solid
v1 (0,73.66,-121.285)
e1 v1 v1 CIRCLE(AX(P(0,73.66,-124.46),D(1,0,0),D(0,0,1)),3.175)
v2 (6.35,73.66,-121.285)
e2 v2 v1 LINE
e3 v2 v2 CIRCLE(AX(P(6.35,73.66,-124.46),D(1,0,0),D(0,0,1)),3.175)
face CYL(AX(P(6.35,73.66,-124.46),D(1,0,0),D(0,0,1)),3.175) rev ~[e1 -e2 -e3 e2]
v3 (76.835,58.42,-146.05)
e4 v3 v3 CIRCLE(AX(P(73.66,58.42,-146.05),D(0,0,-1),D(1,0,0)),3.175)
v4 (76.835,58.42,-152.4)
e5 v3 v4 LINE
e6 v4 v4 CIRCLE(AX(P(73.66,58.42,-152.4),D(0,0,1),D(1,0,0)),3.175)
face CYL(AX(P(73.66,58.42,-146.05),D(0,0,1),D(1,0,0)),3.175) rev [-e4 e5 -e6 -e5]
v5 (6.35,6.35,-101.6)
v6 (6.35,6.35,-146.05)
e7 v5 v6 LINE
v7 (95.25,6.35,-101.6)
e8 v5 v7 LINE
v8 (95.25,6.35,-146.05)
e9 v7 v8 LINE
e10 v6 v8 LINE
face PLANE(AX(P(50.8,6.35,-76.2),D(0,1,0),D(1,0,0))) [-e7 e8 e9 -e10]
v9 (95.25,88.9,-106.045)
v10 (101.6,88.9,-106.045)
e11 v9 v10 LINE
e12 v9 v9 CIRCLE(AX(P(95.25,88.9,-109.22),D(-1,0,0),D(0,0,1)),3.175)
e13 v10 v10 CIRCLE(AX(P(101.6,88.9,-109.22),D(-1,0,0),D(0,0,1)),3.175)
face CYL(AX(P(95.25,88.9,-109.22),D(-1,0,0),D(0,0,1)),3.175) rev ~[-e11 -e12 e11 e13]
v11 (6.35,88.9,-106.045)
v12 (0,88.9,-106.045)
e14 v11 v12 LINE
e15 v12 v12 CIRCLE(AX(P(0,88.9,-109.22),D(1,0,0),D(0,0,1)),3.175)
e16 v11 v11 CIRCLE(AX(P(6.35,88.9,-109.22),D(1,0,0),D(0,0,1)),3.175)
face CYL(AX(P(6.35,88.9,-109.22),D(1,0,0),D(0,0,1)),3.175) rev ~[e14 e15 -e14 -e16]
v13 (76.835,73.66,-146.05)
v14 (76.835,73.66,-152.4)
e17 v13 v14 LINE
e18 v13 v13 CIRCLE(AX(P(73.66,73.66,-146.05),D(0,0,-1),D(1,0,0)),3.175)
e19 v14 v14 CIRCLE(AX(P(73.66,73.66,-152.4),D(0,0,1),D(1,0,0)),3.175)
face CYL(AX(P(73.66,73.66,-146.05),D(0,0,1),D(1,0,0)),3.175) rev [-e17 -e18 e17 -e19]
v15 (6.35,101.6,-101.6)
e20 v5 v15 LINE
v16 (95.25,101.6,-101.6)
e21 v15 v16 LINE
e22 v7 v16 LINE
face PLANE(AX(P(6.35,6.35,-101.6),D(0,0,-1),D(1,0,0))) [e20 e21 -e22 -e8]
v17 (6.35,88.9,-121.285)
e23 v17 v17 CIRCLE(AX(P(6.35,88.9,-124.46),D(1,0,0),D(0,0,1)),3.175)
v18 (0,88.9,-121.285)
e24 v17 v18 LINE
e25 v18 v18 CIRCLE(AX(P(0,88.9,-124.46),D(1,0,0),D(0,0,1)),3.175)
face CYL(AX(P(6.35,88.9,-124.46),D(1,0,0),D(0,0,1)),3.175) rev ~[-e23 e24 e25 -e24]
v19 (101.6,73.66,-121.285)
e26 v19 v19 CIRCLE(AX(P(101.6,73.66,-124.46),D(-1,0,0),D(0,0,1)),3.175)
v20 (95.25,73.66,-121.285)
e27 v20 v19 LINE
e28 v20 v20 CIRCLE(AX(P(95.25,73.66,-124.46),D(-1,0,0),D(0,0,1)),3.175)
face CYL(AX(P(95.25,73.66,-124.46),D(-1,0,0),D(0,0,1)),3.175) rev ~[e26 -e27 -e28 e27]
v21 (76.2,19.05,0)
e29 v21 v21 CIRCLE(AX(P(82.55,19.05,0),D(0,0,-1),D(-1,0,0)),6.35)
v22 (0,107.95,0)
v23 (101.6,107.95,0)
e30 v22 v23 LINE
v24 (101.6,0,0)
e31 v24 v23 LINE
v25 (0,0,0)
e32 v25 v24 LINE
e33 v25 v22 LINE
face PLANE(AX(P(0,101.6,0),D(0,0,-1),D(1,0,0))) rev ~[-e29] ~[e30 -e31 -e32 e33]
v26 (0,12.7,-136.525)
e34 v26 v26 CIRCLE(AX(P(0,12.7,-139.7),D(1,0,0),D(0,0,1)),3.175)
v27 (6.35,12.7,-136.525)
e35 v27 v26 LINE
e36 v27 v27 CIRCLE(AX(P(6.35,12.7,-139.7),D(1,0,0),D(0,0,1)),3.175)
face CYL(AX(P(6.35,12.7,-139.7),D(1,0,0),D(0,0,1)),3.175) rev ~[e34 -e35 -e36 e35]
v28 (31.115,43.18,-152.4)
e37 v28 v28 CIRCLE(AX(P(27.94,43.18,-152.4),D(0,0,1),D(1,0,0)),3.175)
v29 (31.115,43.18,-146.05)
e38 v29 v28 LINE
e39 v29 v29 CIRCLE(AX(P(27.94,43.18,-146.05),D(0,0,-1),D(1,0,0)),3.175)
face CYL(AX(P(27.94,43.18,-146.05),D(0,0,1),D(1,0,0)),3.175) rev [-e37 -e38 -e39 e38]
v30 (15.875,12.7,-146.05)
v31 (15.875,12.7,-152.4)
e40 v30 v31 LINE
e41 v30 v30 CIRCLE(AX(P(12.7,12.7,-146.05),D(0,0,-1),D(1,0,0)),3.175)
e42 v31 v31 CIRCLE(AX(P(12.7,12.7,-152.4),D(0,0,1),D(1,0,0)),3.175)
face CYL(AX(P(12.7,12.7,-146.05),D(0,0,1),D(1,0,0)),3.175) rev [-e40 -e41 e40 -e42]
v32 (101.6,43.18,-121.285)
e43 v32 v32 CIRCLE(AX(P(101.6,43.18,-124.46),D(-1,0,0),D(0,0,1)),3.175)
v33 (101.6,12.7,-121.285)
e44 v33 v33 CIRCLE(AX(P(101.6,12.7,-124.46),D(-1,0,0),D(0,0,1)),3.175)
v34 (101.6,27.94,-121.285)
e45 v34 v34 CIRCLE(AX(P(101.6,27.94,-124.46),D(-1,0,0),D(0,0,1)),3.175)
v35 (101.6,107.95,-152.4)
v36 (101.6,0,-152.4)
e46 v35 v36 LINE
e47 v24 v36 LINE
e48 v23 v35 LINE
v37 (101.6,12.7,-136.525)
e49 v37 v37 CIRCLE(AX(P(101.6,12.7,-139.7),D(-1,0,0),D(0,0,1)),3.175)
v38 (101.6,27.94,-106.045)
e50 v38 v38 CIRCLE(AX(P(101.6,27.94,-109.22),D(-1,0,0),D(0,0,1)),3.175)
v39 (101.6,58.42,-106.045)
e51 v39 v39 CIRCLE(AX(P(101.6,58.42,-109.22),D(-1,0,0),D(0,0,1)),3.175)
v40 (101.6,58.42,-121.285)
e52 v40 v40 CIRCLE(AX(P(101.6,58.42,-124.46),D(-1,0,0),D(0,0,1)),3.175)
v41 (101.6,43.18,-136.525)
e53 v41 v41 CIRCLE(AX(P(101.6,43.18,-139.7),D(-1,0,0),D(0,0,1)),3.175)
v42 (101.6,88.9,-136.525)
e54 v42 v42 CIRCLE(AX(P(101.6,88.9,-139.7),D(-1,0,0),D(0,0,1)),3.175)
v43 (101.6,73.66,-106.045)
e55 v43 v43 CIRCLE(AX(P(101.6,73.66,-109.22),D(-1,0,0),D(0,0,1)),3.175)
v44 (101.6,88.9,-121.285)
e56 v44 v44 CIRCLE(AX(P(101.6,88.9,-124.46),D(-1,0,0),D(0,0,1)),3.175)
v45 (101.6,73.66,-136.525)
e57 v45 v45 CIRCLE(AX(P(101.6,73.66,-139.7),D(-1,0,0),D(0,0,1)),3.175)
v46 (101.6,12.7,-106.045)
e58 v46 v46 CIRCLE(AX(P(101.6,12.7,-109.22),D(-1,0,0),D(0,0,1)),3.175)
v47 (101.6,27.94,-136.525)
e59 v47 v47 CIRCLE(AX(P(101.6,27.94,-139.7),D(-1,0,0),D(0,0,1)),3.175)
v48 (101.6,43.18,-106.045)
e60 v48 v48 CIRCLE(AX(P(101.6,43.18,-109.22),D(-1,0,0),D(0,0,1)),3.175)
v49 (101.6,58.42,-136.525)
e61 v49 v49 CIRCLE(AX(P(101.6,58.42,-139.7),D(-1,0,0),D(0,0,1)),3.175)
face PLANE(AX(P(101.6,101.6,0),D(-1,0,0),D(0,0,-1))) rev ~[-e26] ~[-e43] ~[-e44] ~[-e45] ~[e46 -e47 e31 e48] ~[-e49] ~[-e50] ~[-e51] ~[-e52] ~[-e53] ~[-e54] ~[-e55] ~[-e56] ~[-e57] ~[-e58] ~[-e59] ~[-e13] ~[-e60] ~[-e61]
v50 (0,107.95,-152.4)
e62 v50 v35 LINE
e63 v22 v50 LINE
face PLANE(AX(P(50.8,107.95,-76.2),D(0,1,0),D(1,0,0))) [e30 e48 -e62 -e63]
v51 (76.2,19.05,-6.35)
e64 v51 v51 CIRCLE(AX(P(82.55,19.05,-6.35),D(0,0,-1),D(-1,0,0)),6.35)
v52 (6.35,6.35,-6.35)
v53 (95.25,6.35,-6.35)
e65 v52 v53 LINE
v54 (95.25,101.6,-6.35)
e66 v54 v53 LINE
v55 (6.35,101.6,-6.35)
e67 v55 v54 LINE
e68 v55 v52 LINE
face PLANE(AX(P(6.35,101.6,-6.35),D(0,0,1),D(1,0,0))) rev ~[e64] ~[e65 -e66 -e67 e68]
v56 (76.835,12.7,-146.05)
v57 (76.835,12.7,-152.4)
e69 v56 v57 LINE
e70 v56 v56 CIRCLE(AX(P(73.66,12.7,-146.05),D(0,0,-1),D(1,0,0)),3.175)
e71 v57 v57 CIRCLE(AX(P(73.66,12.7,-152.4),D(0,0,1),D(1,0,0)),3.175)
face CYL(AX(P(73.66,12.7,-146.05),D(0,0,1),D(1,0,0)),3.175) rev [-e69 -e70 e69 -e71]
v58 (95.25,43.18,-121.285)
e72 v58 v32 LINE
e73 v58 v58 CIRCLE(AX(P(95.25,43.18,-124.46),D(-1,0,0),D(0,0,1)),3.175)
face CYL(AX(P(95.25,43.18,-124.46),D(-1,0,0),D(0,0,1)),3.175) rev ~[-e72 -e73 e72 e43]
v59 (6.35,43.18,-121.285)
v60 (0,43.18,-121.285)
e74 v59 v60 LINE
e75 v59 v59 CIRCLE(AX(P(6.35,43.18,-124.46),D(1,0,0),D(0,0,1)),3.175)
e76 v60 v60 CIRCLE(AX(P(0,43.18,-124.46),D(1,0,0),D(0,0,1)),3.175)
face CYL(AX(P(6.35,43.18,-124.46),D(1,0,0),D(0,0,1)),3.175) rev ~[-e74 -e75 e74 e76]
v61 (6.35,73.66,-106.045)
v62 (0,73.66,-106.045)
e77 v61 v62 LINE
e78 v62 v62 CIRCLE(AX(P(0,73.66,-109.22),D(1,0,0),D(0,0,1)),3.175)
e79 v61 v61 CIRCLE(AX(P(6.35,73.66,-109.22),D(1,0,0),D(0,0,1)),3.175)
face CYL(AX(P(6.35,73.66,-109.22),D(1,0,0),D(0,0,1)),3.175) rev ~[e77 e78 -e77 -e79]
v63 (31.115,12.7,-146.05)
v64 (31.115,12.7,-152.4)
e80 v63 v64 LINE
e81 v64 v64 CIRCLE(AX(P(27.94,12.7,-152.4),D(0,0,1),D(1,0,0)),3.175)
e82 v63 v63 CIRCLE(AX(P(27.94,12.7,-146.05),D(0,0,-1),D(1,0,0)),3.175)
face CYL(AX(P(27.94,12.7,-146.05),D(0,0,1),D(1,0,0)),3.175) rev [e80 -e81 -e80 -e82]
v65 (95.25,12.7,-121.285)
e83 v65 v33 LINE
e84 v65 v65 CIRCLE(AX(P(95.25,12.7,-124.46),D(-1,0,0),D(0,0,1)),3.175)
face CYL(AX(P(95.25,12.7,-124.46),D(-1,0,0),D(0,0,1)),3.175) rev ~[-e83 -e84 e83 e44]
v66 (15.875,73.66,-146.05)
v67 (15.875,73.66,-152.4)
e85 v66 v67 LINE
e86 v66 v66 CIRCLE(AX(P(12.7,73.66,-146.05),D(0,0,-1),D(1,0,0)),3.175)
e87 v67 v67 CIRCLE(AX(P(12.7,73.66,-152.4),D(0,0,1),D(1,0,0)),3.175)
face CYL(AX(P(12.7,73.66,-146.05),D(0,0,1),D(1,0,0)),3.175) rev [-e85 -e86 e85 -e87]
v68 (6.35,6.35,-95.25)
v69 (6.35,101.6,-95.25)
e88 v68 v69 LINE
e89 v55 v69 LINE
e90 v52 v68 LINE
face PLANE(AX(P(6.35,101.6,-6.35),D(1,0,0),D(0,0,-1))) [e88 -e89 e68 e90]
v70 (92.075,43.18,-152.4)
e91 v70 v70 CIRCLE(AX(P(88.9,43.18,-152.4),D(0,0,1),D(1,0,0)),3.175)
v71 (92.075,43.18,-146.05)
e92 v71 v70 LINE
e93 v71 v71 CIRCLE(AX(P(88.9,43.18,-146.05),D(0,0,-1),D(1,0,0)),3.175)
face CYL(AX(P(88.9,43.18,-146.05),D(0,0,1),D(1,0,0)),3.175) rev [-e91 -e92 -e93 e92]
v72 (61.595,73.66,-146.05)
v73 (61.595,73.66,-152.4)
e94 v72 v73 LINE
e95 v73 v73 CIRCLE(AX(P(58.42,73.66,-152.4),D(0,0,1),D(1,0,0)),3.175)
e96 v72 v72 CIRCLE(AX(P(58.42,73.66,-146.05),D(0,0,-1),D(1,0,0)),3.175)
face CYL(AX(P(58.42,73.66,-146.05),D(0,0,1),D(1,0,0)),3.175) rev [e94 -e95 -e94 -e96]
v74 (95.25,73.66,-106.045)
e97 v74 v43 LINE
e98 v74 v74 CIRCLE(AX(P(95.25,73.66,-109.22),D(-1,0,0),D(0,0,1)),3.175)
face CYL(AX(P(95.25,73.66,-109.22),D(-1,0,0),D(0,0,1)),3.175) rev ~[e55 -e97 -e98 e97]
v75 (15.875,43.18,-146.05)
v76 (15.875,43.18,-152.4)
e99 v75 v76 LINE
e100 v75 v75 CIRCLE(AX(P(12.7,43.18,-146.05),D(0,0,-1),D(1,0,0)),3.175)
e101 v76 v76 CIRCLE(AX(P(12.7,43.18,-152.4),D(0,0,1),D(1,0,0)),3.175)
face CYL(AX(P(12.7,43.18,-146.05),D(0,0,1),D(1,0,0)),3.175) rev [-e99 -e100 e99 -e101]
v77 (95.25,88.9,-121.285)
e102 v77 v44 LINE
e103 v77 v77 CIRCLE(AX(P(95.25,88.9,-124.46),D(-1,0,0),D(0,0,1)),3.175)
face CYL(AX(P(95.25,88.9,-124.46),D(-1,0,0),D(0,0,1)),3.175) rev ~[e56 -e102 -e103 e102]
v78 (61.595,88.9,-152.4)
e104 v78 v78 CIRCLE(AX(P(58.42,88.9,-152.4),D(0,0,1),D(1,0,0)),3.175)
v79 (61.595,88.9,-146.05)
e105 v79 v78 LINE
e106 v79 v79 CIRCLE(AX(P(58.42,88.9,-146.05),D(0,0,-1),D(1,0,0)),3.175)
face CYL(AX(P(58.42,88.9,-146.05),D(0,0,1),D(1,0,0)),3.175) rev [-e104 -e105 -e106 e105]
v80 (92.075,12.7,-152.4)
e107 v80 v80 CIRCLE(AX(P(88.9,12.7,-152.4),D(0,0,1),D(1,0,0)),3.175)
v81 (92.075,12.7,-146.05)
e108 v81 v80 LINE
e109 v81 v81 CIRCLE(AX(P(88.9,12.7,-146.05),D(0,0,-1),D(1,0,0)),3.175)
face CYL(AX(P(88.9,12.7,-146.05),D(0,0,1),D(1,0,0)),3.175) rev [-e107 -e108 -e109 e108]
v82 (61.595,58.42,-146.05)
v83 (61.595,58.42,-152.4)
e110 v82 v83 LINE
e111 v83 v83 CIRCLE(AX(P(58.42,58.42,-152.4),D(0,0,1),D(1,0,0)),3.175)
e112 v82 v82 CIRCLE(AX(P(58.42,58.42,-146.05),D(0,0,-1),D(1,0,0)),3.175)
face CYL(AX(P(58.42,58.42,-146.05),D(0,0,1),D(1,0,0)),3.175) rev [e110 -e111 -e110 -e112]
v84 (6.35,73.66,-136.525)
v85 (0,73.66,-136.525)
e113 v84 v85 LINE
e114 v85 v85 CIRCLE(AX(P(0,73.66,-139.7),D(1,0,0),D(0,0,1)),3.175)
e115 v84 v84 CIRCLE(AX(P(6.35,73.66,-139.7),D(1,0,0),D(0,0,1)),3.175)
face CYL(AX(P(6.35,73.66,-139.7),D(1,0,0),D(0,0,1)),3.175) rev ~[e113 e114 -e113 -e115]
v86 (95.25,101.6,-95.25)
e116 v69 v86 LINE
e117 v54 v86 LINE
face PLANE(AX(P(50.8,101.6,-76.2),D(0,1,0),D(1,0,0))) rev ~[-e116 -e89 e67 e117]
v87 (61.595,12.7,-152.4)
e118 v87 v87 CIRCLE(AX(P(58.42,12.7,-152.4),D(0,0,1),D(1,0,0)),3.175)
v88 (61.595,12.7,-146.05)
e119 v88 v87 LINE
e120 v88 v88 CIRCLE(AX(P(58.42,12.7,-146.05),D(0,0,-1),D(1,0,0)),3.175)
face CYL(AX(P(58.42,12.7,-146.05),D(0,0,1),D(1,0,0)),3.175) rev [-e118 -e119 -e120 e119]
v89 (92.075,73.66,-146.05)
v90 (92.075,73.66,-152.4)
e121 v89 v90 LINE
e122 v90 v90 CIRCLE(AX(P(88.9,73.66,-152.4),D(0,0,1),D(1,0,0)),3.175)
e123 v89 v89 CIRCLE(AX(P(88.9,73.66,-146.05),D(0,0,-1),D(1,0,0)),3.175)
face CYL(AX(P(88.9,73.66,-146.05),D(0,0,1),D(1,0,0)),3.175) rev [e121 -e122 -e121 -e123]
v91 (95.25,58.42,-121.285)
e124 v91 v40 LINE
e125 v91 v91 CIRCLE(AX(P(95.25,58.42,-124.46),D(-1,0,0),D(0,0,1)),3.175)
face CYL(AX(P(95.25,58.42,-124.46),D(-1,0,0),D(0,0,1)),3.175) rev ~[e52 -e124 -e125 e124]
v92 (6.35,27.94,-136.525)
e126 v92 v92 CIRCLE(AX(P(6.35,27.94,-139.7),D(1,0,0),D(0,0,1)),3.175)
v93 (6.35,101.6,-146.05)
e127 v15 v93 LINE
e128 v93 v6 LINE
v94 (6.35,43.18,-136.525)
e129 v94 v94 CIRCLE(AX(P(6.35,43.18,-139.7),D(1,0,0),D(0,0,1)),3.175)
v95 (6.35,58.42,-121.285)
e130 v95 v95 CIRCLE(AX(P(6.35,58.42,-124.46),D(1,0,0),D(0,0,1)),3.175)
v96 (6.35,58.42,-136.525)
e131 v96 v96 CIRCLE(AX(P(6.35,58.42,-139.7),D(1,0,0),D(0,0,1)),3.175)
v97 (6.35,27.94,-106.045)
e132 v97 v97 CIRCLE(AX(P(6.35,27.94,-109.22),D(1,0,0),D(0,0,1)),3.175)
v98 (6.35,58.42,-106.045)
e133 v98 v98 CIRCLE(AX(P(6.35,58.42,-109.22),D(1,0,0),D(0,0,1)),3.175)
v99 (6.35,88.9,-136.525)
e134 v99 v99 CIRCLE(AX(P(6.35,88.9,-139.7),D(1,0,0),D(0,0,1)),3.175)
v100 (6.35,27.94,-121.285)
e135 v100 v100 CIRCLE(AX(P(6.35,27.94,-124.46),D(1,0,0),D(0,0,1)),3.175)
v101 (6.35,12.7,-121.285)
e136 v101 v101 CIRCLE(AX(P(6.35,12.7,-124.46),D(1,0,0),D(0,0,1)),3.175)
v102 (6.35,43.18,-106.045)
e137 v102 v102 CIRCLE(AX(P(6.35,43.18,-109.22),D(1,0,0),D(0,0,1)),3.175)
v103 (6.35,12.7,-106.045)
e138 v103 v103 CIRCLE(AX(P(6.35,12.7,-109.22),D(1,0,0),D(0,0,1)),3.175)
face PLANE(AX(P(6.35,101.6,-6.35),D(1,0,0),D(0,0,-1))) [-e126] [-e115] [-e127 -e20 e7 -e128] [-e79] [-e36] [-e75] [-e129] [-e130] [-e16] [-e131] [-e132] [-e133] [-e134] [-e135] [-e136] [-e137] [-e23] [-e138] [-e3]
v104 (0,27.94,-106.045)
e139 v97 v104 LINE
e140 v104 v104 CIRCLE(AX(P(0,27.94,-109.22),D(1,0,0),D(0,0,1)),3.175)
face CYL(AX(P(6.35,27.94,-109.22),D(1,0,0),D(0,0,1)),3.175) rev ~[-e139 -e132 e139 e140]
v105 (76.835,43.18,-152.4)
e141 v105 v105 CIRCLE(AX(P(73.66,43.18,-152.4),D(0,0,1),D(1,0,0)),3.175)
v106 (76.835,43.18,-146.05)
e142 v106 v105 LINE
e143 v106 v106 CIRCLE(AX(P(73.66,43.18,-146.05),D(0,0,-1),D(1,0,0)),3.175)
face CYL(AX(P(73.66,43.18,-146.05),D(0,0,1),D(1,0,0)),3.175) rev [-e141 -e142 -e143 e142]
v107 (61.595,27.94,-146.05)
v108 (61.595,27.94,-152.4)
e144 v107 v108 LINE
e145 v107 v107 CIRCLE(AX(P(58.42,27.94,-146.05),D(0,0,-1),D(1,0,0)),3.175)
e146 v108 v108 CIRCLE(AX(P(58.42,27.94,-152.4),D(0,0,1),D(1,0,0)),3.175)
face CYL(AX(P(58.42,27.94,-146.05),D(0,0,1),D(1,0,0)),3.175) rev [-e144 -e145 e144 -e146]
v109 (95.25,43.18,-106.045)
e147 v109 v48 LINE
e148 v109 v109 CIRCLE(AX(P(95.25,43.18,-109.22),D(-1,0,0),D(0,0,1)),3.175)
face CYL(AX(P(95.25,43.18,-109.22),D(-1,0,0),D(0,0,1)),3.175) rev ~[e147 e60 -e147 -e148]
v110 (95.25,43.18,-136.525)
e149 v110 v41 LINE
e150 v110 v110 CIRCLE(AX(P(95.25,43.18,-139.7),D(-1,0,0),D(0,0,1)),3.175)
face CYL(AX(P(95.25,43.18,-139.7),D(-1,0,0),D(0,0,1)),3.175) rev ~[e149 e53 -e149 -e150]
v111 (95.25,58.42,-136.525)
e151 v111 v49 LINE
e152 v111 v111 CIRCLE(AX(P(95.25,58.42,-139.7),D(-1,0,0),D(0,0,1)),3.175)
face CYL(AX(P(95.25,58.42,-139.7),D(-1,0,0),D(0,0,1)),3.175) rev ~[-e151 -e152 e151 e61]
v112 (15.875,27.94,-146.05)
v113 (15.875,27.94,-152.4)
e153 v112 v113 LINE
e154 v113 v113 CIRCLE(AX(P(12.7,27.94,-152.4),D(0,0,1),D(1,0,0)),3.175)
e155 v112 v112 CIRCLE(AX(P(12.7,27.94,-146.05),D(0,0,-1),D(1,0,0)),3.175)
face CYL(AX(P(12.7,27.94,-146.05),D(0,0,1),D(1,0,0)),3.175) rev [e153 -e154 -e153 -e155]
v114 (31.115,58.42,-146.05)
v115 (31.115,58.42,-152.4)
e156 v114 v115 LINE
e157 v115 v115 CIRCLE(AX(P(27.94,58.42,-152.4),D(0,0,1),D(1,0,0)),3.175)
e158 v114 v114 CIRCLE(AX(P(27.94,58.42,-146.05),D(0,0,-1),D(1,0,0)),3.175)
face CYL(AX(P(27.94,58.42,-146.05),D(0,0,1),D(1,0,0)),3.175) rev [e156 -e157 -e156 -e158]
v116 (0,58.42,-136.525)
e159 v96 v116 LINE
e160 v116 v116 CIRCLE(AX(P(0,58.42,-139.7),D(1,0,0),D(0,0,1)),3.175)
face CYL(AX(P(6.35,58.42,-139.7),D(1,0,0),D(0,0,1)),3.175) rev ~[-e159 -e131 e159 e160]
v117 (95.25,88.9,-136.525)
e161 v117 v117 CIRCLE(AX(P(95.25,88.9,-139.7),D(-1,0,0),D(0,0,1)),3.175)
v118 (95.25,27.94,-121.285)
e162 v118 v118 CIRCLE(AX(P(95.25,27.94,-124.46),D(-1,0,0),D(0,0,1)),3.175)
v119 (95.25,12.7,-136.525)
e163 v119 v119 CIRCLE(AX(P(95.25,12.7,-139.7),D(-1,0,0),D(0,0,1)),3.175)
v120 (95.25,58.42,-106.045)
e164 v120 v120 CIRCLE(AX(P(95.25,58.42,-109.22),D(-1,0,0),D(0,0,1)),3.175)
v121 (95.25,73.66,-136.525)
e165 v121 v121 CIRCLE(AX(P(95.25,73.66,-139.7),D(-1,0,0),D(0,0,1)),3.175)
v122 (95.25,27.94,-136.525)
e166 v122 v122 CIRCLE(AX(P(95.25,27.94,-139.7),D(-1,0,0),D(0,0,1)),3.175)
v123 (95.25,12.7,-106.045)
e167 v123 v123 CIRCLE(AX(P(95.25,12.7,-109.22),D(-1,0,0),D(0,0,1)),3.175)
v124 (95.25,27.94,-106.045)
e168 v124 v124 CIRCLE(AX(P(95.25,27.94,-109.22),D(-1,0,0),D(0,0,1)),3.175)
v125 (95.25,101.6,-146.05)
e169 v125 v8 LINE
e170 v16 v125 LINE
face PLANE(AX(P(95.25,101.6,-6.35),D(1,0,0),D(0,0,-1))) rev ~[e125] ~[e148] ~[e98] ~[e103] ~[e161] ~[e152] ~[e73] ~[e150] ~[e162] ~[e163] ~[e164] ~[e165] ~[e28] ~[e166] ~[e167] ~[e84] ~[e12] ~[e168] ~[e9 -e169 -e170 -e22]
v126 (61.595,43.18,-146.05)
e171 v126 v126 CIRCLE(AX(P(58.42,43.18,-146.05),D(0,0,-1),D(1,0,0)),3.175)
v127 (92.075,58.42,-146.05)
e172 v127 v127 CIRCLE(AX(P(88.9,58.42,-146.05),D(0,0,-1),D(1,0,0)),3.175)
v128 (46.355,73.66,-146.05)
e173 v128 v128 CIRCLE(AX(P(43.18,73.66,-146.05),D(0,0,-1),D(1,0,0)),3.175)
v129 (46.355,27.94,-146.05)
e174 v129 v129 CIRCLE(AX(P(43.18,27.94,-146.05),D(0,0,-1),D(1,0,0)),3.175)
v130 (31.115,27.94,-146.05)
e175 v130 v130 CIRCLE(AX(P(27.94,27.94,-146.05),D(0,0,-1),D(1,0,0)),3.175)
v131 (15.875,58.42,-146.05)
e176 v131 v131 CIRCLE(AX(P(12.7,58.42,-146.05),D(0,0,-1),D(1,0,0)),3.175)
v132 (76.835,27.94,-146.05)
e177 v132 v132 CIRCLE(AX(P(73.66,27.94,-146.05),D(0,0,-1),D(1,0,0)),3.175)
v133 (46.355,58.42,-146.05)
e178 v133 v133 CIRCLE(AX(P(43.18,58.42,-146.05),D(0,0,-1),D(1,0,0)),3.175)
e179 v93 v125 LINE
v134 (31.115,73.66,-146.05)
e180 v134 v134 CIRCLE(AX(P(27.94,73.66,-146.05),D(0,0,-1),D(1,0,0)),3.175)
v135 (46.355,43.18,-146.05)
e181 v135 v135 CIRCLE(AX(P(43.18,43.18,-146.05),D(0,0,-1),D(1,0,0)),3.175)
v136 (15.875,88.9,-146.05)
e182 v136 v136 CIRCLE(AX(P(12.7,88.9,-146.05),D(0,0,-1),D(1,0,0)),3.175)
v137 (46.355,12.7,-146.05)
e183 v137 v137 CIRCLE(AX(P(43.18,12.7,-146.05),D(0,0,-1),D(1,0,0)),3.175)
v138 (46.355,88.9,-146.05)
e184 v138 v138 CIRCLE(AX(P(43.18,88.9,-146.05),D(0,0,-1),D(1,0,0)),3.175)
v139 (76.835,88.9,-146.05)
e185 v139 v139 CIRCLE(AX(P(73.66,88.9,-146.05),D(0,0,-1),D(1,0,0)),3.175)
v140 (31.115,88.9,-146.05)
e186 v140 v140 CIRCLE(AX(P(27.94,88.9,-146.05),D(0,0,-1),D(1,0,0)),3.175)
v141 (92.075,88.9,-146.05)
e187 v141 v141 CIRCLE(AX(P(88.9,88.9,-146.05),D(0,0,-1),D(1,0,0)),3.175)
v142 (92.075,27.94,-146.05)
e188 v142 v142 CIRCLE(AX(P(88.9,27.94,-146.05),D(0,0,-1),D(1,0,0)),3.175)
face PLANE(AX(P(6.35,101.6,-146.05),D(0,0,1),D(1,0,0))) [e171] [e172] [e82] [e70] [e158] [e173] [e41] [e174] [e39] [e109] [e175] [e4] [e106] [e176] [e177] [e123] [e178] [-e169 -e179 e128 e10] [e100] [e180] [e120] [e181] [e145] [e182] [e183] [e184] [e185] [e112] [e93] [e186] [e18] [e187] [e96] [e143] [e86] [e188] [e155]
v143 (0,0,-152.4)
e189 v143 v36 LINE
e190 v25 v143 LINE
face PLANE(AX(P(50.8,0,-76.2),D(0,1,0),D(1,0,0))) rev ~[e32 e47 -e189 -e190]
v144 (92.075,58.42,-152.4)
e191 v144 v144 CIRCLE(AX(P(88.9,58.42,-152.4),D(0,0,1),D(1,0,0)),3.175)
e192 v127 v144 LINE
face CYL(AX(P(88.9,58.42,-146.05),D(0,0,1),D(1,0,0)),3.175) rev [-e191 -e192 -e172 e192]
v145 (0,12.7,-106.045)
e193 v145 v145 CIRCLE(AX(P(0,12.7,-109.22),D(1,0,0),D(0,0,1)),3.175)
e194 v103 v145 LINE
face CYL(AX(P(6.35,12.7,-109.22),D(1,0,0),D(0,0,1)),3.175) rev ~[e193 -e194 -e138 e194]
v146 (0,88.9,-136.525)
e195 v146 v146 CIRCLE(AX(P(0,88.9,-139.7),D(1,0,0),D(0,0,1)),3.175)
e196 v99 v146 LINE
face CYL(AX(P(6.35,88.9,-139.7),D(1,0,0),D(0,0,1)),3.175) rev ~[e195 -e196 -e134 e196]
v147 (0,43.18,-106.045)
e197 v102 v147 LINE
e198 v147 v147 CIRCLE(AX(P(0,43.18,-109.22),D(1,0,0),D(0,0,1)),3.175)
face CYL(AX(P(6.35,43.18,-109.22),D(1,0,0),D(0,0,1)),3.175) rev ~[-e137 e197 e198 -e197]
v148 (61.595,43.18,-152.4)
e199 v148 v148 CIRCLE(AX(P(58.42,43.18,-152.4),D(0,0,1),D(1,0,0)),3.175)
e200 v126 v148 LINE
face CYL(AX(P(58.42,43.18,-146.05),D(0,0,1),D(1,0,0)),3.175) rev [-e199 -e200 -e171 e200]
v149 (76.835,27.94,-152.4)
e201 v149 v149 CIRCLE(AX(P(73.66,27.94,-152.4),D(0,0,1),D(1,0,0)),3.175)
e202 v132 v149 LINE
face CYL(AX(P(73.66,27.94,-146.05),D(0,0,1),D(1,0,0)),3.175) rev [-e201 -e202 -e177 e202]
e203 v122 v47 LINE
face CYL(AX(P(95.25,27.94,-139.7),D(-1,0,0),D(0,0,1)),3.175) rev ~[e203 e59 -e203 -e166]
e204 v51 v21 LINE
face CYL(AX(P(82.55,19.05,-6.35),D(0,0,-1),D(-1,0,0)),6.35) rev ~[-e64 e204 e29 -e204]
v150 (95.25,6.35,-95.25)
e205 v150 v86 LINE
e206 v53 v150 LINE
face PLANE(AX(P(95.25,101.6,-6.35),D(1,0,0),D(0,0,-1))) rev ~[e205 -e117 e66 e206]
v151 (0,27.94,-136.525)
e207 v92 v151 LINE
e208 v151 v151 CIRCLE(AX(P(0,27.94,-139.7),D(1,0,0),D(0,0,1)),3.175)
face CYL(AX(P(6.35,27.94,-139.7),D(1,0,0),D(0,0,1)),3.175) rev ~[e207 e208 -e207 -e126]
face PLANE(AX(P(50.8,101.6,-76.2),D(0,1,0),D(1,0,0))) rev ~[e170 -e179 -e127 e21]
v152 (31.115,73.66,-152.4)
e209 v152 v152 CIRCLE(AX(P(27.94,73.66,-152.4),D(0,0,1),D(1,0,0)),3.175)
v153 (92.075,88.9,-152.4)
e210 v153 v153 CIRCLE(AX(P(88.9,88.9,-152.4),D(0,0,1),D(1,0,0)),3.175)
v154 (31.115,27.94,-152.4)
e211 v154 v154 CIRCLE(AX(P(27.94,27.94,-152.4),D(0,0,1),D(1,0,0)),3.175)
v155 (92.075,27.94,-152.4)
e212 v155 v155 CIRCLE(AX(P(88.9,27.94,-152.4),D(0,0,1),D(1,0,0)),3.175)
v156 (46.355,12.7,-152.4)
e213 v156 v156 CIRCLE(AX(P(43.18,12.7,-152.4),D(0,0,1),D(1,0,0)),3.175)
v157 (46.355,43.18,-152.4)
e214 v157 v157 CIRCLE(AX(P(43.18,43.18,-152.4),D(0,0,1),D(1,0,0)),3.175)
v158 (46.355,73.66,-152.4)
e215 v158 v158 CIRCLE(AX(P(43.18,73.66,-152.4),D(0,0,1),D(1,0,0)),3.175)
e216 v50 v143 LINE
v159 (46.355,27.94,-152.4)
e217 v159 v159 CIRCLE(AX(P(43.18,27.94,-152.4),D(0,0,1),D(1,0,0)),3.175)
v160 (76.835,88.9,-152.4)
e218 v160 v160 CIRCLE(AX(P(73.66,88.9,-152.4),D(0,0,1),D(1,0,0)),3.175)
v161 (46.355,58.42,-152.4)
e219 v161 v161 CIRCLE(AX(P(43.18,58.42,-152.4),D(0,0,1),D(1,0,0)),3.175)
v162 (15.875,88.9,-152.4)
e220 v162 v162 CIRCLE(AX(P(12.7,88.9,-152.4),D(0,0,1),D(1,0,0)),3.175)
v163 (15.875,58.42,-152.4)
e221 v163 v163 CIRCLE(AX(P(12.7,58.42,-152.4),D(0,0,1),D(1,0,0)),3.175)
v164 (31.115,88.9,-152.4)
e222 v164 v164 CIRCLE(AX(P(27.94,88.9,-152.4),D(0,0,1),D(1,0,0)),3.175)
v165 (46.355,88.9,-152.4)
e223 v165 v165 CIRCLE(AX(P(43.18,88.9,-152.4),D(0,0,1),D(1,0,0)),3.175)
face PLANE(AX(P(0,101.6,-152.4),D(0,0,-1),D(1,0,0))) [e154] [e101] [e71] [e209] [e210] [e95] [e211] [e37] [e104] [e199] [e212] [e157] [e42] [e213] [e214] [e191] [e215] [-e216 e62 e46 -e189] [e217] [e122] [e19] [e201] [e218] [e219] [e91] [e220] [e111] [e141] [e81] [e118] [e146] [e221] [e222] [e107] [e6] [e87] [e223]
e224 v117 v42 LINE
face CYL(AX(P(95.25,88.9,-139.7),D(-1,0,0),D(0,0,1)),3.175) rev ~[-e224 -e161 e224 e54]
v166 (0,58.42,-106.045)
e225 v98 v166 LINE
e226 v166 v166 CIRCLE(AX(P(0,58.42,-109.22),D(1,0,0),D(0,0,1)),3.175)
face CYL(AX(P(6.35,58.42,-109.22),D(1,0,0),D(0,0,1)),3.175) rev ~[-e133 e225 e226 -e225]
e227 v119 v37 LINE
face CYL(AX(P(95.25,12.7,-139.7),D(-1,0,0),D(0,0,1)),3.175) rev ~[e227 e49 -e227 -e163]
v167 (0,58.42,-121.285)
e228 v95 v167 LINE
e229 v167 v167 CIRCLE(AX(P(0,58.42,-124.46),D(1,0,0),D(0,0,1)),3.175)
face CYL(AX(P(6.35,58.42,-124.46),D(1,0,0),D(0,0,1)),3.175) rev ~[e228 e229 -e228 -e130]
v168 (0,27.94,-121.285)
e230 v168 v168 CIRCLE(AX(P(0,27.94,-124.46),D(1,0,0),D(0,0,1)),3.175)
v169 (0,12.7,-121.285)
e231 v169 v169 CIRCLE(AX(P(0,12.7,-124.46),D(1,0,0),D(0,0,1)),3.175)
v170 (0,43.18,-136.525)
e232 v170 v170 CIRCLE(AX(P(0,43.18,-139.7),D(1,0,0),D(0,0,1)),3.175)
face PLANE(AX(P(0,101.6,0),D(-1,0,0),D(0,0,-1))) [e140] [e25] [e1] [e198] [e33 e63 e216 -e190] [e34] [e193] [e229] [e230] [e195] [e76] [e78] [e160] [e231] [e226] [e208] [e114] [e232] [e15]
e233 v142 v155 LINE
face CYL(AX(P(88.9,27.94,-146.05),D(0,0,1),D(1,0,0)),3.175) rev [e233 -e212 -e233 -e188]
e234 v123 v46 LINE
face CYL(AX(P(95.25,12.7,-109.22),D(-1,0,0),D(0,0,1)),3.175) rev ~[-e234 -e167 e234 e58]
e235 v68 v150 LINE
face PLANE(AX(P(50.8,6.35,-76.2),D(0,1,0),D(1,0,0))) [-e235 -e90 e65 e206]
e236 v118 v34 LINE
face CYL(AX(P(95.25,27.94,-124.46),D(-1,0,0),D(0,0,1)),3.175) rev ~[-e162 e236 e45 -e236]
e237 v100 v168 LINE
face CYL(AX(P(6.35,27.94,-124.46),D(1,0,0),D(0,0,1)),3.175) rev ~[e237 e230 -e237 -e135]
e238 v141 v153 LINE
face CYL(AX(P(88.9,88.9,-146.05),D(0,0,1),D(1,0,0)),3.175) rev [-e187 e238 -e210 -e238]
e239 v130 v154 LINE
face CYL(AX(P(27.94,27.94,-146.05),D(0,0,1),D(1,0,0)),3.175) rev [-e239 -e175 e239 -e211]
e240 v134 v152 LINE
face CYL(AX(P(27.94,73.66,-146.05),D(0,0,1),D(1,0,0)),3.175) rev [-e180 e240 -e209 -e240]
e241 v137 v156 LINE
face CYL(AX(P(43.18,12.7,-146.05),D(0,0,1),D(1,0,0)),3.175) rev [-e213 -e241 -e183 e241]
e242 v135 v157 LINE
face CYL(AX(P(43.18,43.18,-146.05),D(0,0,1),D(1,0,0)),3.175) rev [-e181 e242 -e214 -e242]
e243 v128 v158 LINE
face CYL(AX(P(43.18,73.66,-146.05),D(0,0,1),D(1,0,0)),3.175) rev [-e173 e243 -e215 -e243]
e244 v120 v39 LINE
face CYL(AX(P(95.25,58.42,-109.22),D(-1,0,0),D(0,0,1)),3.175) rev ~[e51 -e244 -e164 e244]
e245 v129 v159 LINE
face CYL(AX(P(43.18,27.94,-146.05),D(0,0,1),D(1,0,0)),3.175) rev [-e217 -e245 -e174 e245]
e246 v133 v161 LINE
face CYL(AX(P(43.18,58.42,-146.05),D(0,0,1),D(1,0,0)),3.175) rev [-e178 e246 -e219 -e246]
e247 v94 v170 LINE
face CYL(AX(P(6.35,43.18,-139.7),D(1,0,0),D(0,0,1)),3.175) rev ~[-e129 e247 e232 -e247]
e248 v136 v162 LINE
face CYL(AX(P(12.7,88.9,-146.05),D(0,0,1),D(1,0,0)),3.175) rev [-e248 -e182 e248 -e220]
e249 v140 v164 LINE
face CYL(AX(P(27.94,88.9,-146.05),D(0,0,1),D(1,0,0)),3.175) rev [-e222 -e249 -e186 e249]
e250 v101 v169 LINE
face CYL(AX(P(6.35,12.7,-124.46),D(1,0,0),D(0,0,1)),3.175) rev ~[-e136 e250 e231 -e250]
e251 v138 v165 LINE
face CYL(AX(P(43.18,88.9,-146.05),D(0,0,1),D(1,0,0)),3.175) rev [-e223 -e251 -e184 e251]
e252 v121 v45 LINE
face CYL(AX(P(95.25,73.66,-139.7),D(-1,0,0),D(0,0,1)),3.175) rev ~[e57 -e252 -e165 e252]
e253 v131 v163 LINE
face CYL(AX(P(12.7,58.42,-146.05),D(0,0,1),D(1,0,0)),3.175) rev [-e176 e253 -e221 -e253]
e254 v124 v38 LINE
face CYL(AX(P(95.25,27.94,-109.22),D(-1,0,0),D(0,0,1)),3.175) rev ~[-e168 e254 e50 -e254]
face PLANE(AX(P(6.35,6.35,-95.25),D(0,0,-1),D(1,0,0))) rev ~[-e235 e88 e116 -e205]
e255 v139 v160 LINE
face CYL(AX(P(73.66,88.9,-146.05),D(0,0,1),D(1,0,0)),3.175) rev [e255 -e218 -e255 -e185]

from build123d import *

# Parameters (mm, degrees)
SKETCH1_W               = 101.6
SKETCH1_H               = 152.4
BOSS_EXTRUDE1_DEPTH     = 101.6
SKETCH3_W               = 88.9
SKETCH3_H               = 139.7
CUT_EXTRUDE1_DEPTH      = 95.25
SKETCH4_W               = 88.9
SKETCH4_H               = 6.35
BOSS_EXTRUDE2_DEPTH     = 95.25
SKETCH6_R               = 3.175
CUT_EXTRUDE2_DEPTH      = 207.448256229
SKETCH7_R               = 3.175
CUT_EXTRUDE3_DEPTH      = 207.448256229
CUT_EXTRUDE5_DEPTH      = 210.453765781
CUT_EXTRUDE5_DEPTH_BACK = 6.35
SKETCH8_R               = 3.175
SKETCH9_W               = 101.6
SKETCH9_H               = 152.4
BOSS_EXTRUDE3_DEPTH     = 6.35
SKETCH10_R              = 6.35
CUT_EXTRUDE6_DEPTH      = 6.35


with BuildPart() as part:
    # Sketch1 → Boss-Extrude1 (new body)
    with BuildSketch(Plane(origin=(0, 0, 0), x_dir=(1, 0, 0), z_dir=(0, 1, 0))):
        with Locations((50.8, 76.2)):
            Rectangle(SKETCH1_W, SKETCH1_H)
    extrude(amount=BOSS_EXTRUDE1_DEPTH)

    # Sketch3 → Cut-Extrude1 (cut)
    with BuildSketch(Plane(origin=(0, 101.6, 0), x_dir=(1, 0, 0), z_dir=(0, 1, 0))):
        with Locations((50.8, 76.2)):
            Rectangle(SKETCH3_W, SKETCH3_H)
    extrude(amount=-CUT_EXTRUDE1_DEPTH, mode=Mode.SUBTRACT)

    # Sketch4 → Boss-Extrude2 (add)
    with BuildSketch(Plane(origin=(0, 6.35, 0), x_dir=(1, 0, 0), z_dir=(0, 1, 0))):
        with Locations((50.8, 98.425)):
            Rectangle(SKETCH4_W, SKETCH4_H)
    extrude(amount=BOSS_EXTRUDE2_DEPTH)

    # Sketch6 → Cut-Extrude2 (cut, through all)
    with BuildSketch(Plane.ZY.offset(-95.25)):
        with Locations((-139.7, 12.7)):
            Circle(SKETCH6_R)
        with Locations((-124.46, 12.7)):
            Circle(SKETCH6_R)
        with Locations((-109.22, 12.7)):
            Circle(SKETCH6_R)
        with Locations((-124.46, 27.94)):
            Circle(SKETCH6_R)
        with Locations((-109.22, 27.94)):
            Circle(SKETCH6_R)
        with Locations((-124.46, 43.18)):
            Circle(SKETCH6_R)
        with Locations((-109.22, 43.18)):
            Circle(SKETCH6_R)
        with Locations((-124.46, 58.42)):
            Circle(SKETCH6_R)
        with Locations((-109.22, 58.42)):
            Circle(SKETCH6_R)
        with Locations((-124.46, 73.66)):
            Circle(SKETCH6_R)
        with Locations((-109.22, 73.66)):
            Circle(SKETCH6_R)
        with Locations((-124.46, 88.9)):
            Circle(SKETCH6_R)
        with Locations((-109.22, 88.9)):
            Circle(SKETCH6_R)
        with Locations((-139.7, 27.94)):
            Circle(SKETCH6_R)
        with Locations((-139.7, 43.18)):
            Circle(SKETCH6_R)
        with Locations((-139.7, 58.42)):
            Circle(SKETCH6_R)
        with Locations((-139.7, 73.66)):
            Circle(SKETCH6_R)
        with Locations((-139.7, 88.9)):
            Circle(SKETCH6_R)
    extrude(amount=-CUT_EXTRUDE2_DEPTH, mode=Mode.SUBTRACT)

    # Sketch7 → Cut-Extrude3 (cut, through all)
    with BuildSketch(Plane(origin=(6.35, 0, 0), x_dir=(0, 0, -1), z_dir=(1, 0, 0))):
        with Locations(Location((139.7, 12.7, 0), (0, 0, 180))):
            Circle(SKETCH7_R)
        with Locations(Location((124.46, 12.7, 0), (0, 0, 180))):
            Circle(SKETCH7_R)
        with Locations(Location((109.22, 12.7, 0), (0, 0, 180))):
            Circle(SKETCH7_R)
        with Locations(Location((124.46, 27.94, 0), (0, 0, 180))):
            Circle(SKETCH7_R)
        with Locations(Location((109.22, 27.94, 0), (0, 0, 180))):
            Circle(SKETCH7_R)
        with Locations(Location((124.46, 43.18, 0), (0, 0, 180))):
            Circle(SKETCH7_R)
        with Locations(Location((109.22, 43.18, 0), (0, 0, 180))):
            Circle(SKETCH7_R)
        with Locations(Location((124.46, 58.42, 0), (0, 0, 180))):
            Circle(SKETCH7_R)
        with Locations(Location((109.22, 58.42, 0), (0, 0, 180))):
            Circle(SKETCH7_R)
        with Locations(Location((124.46, 73.66, 0), (0, 0, 180))):
            Circle(SKETCH7_R)
        with Locations(Location((109.22, 73.66, 0), (0, 0, 180))):
            Circle(SKETCH7_R)
        with Locations(Location((124.46, 88.9, 0), (0, 0, 180))):
            Circle(SKETCH7_R)
        with Locations(Location((109.22, 88.9, 0), (0, 0, 180))):
            Circle(SKETCH7_R)
        with Locations(Location((139.7, 27.94, 0), (0, 0, 180))):
            Circle(SKETCH7_R)
        with Locations(Location((139.7, 43.18, 0), (0, 0, 180))):
            Circle(SKETCH7_R)
        with Locations(Location((139.7, 58.42, 0), (0, 0, 180))):
            Circle(SKETCH7_R)
        with Locations(Location((139.7, 73.66, 0), (0, 0, 180))):
            Circle(SKETCH7_R)
        with Locations(Location((139.7, 88.9, 0), (0, 0, 180))):
            Circle(SKETCH7_R)
    extrude(amount=-CUT_EXTRUDE3_DEPTH, mode=Mode.SUBTRACT)

    # Sketch8 → Cut-Extrude5 (cut, two sides: drawn at the far end of the back side and taken through both)
    with BuildSketch(Plane(origin=(0, 0, -152.4), x_dir=(-1, 0, 0), z_dir=(0, 0, -1)).offset(-CUT_EXTRUDE5_DEPTH_BACK)):
        with Locations(Location((-88.9, 12.7, 0), (0, 0, 180))):
            Circle(SKETCH8_R)
        with Locations(Location((-73.66, 12.7, 0), (0, 0, 180))):
            Circle(SKETCH8_R)
        with Locations(Location((-58.42, 12.7, 0), (0, 0, 180))):
            Circle(SKETCH8_R)
        with Locations(Location((-43.18, 12.7, 0), (0, 0, 180))):
            Circle(SKETCH8_R)
        with Locations(Location((-27.94, 12.7, 0), (0, 0, 180))):
            Circle(SKETCH8_R)
        with Locations(Location((-12.7, 12.7, 0), (0, 0, 180))):
            Circle(SKETCH8_R)
        with Locations(Location((-73.66, 27.94, 0), (0, 0, 180))):
            Circle(SKETCH8_R)
        with Locations(Location((-58.42, 27.94, 0), (0, 0, 180))):
            Circle(SKETCH8_R)
        with Locations(Location((-43.18, 27.94, 0), (0, 0, 180))):
            Circle(SKETCH8_R)
        with Locations(Location((-27.94, 27.94, 0), (0, 0, 180))):
            Circle(SKETCH8_R)
        with Locations(Location((-12.7, 27.94, 0), (0, 0, 180))):
            Circle(SKETCH8_R)
        with Locations(Location((-73.66, 43.18, 0), (0, 0, 180))):
            Circle(SKETCH8_R)
        with Locations(Location((-58.42, 43.18, 0), (0, 0, 180))):
            Circle(SKETCH8_R)
        with Locations(Location((-43.18, 43.18, 0), (0, 0, 180))):
            Circle(SKETCH8_R)
        with Locations(Location((-27.94, 43.18, 0), (0, 0, 180))):
            Circle(SKETCH8_R)
        with Locations(Location((-12.7, 43.18, 0), (0, 0, 180))):
            Circle(SKETCH8_R)
        with Locations(Location((-73.66, 58.42, 0), (0, 0, 180))):
            Circle(SKETCH8_R)
        with Locations(Location((-58.42, 58.42, 0), (0, 0, 180))):
            Circle(SKETCH8_R)
        with Locations(Location((-43.18, 58.42, 0), (0, 0, 180))):
            Circle(SKETCH8_R)
        with Locations(Location((-27.94, 58.42, 0), (0, 0, 180))):
            Circle(SKETCH8_R)
        with Locations(Location((-12.7, 58.42, 0), (0, 0, 180))):
            Circle(SKETCH8_R)
        with Locations(Location((-73.66, 73.66, 0), (0, 0, 180))):
            Circle(SKETCH8_R)
        with Locations(Location((-58.42, 73.66, 0), (0, 0, 180))):
            Circle(SKETCH8_R)
        with Locations(Location((-43.18, 73.66, 0), (0, 0, 180))):
            Circle(SKETCH8_R)
        with Locations(Location((-27.94, 73.66, 0), (0, 0, 180))):
            Circle(SKETCH8_R)
        with Locations(Location((-12.7, 73.66, 0), (0, 0, 180))):
            Circle(SKETCH8_R)
        with Locations(Location((-73.66, 88.9, 0), (0, 0, 180))):
            Circle(SKETCH8_R)
        with Locations(Location((-58.42, 88.9, 0), (0, 0, 180))):
            Circle(SKETCH8_R)
        with Locations(Location((-43.18, 88.9, 0), (0, 0, 180))):
            Circle(SKETCH8_R)
        with Locations(Location((-27.94, 88.9, 0), (0, 0, 180))):
            Circle(SKETCH8_R)
        with Locations(Location((-12.7, 88.9, 0), (0, 0, 180))):
            Circle(SKETCH8_R)
        with Locations(Location((-88.9, 27.94, 0), (0, 0, 180))):
            Circle(SKETCH8_R)
        with Locations(Location((-88.9, 43.18, 0), (0, 0, 180))):
            Circle(SKETCH8_R)
        with Locations(Location((-88.9, 58.42, 0), (0, 0, 180))):
            Circle(SKETCH8_R)
        with Locations(Location((-88.9, 73.66, 0), (0, 0, 180))):
            Circle(SKETCH8_R)
        with Locations(Location((-88.9, 88.9, 0), (0, 0, 180))):
            Circle(SKETCH8_R)
    extrude(amount=CUT_EXTRUDE5_DEPTH + CUT_EXTRUDE5_DEPTH_BACK, mode=Mode.SUBTRACT)

    # Sketch9 → Boss-Extrude3 (add)
    with BuildSketch(Plane(origin=(0, 101.6, 0), x_dir=(1, 0, 0), z_dir=(0, 1, 0))):
        with Locations((50.8, 76.2)):
            Rectangle(SKETCH9_W, SKETCH9_H)
    extrude(amount=BOSS_EXTRUDE3_DEPTH)

    # Sketch10 → Cut-Extrude6 (cut)
    with BuildSketch(Plane(origin=(0, 0, -6.35), x_dir=(-1, 0, 0), z_dir=(0, 0, -1))):
        with Locations((-82.55, 19.05)):
            Circle(SKETCH10_R)
    extrude(amount=-CUT_EXTRUDE6_DEPTH, mode=Mode.SUBTRACT)


solid = part.part
